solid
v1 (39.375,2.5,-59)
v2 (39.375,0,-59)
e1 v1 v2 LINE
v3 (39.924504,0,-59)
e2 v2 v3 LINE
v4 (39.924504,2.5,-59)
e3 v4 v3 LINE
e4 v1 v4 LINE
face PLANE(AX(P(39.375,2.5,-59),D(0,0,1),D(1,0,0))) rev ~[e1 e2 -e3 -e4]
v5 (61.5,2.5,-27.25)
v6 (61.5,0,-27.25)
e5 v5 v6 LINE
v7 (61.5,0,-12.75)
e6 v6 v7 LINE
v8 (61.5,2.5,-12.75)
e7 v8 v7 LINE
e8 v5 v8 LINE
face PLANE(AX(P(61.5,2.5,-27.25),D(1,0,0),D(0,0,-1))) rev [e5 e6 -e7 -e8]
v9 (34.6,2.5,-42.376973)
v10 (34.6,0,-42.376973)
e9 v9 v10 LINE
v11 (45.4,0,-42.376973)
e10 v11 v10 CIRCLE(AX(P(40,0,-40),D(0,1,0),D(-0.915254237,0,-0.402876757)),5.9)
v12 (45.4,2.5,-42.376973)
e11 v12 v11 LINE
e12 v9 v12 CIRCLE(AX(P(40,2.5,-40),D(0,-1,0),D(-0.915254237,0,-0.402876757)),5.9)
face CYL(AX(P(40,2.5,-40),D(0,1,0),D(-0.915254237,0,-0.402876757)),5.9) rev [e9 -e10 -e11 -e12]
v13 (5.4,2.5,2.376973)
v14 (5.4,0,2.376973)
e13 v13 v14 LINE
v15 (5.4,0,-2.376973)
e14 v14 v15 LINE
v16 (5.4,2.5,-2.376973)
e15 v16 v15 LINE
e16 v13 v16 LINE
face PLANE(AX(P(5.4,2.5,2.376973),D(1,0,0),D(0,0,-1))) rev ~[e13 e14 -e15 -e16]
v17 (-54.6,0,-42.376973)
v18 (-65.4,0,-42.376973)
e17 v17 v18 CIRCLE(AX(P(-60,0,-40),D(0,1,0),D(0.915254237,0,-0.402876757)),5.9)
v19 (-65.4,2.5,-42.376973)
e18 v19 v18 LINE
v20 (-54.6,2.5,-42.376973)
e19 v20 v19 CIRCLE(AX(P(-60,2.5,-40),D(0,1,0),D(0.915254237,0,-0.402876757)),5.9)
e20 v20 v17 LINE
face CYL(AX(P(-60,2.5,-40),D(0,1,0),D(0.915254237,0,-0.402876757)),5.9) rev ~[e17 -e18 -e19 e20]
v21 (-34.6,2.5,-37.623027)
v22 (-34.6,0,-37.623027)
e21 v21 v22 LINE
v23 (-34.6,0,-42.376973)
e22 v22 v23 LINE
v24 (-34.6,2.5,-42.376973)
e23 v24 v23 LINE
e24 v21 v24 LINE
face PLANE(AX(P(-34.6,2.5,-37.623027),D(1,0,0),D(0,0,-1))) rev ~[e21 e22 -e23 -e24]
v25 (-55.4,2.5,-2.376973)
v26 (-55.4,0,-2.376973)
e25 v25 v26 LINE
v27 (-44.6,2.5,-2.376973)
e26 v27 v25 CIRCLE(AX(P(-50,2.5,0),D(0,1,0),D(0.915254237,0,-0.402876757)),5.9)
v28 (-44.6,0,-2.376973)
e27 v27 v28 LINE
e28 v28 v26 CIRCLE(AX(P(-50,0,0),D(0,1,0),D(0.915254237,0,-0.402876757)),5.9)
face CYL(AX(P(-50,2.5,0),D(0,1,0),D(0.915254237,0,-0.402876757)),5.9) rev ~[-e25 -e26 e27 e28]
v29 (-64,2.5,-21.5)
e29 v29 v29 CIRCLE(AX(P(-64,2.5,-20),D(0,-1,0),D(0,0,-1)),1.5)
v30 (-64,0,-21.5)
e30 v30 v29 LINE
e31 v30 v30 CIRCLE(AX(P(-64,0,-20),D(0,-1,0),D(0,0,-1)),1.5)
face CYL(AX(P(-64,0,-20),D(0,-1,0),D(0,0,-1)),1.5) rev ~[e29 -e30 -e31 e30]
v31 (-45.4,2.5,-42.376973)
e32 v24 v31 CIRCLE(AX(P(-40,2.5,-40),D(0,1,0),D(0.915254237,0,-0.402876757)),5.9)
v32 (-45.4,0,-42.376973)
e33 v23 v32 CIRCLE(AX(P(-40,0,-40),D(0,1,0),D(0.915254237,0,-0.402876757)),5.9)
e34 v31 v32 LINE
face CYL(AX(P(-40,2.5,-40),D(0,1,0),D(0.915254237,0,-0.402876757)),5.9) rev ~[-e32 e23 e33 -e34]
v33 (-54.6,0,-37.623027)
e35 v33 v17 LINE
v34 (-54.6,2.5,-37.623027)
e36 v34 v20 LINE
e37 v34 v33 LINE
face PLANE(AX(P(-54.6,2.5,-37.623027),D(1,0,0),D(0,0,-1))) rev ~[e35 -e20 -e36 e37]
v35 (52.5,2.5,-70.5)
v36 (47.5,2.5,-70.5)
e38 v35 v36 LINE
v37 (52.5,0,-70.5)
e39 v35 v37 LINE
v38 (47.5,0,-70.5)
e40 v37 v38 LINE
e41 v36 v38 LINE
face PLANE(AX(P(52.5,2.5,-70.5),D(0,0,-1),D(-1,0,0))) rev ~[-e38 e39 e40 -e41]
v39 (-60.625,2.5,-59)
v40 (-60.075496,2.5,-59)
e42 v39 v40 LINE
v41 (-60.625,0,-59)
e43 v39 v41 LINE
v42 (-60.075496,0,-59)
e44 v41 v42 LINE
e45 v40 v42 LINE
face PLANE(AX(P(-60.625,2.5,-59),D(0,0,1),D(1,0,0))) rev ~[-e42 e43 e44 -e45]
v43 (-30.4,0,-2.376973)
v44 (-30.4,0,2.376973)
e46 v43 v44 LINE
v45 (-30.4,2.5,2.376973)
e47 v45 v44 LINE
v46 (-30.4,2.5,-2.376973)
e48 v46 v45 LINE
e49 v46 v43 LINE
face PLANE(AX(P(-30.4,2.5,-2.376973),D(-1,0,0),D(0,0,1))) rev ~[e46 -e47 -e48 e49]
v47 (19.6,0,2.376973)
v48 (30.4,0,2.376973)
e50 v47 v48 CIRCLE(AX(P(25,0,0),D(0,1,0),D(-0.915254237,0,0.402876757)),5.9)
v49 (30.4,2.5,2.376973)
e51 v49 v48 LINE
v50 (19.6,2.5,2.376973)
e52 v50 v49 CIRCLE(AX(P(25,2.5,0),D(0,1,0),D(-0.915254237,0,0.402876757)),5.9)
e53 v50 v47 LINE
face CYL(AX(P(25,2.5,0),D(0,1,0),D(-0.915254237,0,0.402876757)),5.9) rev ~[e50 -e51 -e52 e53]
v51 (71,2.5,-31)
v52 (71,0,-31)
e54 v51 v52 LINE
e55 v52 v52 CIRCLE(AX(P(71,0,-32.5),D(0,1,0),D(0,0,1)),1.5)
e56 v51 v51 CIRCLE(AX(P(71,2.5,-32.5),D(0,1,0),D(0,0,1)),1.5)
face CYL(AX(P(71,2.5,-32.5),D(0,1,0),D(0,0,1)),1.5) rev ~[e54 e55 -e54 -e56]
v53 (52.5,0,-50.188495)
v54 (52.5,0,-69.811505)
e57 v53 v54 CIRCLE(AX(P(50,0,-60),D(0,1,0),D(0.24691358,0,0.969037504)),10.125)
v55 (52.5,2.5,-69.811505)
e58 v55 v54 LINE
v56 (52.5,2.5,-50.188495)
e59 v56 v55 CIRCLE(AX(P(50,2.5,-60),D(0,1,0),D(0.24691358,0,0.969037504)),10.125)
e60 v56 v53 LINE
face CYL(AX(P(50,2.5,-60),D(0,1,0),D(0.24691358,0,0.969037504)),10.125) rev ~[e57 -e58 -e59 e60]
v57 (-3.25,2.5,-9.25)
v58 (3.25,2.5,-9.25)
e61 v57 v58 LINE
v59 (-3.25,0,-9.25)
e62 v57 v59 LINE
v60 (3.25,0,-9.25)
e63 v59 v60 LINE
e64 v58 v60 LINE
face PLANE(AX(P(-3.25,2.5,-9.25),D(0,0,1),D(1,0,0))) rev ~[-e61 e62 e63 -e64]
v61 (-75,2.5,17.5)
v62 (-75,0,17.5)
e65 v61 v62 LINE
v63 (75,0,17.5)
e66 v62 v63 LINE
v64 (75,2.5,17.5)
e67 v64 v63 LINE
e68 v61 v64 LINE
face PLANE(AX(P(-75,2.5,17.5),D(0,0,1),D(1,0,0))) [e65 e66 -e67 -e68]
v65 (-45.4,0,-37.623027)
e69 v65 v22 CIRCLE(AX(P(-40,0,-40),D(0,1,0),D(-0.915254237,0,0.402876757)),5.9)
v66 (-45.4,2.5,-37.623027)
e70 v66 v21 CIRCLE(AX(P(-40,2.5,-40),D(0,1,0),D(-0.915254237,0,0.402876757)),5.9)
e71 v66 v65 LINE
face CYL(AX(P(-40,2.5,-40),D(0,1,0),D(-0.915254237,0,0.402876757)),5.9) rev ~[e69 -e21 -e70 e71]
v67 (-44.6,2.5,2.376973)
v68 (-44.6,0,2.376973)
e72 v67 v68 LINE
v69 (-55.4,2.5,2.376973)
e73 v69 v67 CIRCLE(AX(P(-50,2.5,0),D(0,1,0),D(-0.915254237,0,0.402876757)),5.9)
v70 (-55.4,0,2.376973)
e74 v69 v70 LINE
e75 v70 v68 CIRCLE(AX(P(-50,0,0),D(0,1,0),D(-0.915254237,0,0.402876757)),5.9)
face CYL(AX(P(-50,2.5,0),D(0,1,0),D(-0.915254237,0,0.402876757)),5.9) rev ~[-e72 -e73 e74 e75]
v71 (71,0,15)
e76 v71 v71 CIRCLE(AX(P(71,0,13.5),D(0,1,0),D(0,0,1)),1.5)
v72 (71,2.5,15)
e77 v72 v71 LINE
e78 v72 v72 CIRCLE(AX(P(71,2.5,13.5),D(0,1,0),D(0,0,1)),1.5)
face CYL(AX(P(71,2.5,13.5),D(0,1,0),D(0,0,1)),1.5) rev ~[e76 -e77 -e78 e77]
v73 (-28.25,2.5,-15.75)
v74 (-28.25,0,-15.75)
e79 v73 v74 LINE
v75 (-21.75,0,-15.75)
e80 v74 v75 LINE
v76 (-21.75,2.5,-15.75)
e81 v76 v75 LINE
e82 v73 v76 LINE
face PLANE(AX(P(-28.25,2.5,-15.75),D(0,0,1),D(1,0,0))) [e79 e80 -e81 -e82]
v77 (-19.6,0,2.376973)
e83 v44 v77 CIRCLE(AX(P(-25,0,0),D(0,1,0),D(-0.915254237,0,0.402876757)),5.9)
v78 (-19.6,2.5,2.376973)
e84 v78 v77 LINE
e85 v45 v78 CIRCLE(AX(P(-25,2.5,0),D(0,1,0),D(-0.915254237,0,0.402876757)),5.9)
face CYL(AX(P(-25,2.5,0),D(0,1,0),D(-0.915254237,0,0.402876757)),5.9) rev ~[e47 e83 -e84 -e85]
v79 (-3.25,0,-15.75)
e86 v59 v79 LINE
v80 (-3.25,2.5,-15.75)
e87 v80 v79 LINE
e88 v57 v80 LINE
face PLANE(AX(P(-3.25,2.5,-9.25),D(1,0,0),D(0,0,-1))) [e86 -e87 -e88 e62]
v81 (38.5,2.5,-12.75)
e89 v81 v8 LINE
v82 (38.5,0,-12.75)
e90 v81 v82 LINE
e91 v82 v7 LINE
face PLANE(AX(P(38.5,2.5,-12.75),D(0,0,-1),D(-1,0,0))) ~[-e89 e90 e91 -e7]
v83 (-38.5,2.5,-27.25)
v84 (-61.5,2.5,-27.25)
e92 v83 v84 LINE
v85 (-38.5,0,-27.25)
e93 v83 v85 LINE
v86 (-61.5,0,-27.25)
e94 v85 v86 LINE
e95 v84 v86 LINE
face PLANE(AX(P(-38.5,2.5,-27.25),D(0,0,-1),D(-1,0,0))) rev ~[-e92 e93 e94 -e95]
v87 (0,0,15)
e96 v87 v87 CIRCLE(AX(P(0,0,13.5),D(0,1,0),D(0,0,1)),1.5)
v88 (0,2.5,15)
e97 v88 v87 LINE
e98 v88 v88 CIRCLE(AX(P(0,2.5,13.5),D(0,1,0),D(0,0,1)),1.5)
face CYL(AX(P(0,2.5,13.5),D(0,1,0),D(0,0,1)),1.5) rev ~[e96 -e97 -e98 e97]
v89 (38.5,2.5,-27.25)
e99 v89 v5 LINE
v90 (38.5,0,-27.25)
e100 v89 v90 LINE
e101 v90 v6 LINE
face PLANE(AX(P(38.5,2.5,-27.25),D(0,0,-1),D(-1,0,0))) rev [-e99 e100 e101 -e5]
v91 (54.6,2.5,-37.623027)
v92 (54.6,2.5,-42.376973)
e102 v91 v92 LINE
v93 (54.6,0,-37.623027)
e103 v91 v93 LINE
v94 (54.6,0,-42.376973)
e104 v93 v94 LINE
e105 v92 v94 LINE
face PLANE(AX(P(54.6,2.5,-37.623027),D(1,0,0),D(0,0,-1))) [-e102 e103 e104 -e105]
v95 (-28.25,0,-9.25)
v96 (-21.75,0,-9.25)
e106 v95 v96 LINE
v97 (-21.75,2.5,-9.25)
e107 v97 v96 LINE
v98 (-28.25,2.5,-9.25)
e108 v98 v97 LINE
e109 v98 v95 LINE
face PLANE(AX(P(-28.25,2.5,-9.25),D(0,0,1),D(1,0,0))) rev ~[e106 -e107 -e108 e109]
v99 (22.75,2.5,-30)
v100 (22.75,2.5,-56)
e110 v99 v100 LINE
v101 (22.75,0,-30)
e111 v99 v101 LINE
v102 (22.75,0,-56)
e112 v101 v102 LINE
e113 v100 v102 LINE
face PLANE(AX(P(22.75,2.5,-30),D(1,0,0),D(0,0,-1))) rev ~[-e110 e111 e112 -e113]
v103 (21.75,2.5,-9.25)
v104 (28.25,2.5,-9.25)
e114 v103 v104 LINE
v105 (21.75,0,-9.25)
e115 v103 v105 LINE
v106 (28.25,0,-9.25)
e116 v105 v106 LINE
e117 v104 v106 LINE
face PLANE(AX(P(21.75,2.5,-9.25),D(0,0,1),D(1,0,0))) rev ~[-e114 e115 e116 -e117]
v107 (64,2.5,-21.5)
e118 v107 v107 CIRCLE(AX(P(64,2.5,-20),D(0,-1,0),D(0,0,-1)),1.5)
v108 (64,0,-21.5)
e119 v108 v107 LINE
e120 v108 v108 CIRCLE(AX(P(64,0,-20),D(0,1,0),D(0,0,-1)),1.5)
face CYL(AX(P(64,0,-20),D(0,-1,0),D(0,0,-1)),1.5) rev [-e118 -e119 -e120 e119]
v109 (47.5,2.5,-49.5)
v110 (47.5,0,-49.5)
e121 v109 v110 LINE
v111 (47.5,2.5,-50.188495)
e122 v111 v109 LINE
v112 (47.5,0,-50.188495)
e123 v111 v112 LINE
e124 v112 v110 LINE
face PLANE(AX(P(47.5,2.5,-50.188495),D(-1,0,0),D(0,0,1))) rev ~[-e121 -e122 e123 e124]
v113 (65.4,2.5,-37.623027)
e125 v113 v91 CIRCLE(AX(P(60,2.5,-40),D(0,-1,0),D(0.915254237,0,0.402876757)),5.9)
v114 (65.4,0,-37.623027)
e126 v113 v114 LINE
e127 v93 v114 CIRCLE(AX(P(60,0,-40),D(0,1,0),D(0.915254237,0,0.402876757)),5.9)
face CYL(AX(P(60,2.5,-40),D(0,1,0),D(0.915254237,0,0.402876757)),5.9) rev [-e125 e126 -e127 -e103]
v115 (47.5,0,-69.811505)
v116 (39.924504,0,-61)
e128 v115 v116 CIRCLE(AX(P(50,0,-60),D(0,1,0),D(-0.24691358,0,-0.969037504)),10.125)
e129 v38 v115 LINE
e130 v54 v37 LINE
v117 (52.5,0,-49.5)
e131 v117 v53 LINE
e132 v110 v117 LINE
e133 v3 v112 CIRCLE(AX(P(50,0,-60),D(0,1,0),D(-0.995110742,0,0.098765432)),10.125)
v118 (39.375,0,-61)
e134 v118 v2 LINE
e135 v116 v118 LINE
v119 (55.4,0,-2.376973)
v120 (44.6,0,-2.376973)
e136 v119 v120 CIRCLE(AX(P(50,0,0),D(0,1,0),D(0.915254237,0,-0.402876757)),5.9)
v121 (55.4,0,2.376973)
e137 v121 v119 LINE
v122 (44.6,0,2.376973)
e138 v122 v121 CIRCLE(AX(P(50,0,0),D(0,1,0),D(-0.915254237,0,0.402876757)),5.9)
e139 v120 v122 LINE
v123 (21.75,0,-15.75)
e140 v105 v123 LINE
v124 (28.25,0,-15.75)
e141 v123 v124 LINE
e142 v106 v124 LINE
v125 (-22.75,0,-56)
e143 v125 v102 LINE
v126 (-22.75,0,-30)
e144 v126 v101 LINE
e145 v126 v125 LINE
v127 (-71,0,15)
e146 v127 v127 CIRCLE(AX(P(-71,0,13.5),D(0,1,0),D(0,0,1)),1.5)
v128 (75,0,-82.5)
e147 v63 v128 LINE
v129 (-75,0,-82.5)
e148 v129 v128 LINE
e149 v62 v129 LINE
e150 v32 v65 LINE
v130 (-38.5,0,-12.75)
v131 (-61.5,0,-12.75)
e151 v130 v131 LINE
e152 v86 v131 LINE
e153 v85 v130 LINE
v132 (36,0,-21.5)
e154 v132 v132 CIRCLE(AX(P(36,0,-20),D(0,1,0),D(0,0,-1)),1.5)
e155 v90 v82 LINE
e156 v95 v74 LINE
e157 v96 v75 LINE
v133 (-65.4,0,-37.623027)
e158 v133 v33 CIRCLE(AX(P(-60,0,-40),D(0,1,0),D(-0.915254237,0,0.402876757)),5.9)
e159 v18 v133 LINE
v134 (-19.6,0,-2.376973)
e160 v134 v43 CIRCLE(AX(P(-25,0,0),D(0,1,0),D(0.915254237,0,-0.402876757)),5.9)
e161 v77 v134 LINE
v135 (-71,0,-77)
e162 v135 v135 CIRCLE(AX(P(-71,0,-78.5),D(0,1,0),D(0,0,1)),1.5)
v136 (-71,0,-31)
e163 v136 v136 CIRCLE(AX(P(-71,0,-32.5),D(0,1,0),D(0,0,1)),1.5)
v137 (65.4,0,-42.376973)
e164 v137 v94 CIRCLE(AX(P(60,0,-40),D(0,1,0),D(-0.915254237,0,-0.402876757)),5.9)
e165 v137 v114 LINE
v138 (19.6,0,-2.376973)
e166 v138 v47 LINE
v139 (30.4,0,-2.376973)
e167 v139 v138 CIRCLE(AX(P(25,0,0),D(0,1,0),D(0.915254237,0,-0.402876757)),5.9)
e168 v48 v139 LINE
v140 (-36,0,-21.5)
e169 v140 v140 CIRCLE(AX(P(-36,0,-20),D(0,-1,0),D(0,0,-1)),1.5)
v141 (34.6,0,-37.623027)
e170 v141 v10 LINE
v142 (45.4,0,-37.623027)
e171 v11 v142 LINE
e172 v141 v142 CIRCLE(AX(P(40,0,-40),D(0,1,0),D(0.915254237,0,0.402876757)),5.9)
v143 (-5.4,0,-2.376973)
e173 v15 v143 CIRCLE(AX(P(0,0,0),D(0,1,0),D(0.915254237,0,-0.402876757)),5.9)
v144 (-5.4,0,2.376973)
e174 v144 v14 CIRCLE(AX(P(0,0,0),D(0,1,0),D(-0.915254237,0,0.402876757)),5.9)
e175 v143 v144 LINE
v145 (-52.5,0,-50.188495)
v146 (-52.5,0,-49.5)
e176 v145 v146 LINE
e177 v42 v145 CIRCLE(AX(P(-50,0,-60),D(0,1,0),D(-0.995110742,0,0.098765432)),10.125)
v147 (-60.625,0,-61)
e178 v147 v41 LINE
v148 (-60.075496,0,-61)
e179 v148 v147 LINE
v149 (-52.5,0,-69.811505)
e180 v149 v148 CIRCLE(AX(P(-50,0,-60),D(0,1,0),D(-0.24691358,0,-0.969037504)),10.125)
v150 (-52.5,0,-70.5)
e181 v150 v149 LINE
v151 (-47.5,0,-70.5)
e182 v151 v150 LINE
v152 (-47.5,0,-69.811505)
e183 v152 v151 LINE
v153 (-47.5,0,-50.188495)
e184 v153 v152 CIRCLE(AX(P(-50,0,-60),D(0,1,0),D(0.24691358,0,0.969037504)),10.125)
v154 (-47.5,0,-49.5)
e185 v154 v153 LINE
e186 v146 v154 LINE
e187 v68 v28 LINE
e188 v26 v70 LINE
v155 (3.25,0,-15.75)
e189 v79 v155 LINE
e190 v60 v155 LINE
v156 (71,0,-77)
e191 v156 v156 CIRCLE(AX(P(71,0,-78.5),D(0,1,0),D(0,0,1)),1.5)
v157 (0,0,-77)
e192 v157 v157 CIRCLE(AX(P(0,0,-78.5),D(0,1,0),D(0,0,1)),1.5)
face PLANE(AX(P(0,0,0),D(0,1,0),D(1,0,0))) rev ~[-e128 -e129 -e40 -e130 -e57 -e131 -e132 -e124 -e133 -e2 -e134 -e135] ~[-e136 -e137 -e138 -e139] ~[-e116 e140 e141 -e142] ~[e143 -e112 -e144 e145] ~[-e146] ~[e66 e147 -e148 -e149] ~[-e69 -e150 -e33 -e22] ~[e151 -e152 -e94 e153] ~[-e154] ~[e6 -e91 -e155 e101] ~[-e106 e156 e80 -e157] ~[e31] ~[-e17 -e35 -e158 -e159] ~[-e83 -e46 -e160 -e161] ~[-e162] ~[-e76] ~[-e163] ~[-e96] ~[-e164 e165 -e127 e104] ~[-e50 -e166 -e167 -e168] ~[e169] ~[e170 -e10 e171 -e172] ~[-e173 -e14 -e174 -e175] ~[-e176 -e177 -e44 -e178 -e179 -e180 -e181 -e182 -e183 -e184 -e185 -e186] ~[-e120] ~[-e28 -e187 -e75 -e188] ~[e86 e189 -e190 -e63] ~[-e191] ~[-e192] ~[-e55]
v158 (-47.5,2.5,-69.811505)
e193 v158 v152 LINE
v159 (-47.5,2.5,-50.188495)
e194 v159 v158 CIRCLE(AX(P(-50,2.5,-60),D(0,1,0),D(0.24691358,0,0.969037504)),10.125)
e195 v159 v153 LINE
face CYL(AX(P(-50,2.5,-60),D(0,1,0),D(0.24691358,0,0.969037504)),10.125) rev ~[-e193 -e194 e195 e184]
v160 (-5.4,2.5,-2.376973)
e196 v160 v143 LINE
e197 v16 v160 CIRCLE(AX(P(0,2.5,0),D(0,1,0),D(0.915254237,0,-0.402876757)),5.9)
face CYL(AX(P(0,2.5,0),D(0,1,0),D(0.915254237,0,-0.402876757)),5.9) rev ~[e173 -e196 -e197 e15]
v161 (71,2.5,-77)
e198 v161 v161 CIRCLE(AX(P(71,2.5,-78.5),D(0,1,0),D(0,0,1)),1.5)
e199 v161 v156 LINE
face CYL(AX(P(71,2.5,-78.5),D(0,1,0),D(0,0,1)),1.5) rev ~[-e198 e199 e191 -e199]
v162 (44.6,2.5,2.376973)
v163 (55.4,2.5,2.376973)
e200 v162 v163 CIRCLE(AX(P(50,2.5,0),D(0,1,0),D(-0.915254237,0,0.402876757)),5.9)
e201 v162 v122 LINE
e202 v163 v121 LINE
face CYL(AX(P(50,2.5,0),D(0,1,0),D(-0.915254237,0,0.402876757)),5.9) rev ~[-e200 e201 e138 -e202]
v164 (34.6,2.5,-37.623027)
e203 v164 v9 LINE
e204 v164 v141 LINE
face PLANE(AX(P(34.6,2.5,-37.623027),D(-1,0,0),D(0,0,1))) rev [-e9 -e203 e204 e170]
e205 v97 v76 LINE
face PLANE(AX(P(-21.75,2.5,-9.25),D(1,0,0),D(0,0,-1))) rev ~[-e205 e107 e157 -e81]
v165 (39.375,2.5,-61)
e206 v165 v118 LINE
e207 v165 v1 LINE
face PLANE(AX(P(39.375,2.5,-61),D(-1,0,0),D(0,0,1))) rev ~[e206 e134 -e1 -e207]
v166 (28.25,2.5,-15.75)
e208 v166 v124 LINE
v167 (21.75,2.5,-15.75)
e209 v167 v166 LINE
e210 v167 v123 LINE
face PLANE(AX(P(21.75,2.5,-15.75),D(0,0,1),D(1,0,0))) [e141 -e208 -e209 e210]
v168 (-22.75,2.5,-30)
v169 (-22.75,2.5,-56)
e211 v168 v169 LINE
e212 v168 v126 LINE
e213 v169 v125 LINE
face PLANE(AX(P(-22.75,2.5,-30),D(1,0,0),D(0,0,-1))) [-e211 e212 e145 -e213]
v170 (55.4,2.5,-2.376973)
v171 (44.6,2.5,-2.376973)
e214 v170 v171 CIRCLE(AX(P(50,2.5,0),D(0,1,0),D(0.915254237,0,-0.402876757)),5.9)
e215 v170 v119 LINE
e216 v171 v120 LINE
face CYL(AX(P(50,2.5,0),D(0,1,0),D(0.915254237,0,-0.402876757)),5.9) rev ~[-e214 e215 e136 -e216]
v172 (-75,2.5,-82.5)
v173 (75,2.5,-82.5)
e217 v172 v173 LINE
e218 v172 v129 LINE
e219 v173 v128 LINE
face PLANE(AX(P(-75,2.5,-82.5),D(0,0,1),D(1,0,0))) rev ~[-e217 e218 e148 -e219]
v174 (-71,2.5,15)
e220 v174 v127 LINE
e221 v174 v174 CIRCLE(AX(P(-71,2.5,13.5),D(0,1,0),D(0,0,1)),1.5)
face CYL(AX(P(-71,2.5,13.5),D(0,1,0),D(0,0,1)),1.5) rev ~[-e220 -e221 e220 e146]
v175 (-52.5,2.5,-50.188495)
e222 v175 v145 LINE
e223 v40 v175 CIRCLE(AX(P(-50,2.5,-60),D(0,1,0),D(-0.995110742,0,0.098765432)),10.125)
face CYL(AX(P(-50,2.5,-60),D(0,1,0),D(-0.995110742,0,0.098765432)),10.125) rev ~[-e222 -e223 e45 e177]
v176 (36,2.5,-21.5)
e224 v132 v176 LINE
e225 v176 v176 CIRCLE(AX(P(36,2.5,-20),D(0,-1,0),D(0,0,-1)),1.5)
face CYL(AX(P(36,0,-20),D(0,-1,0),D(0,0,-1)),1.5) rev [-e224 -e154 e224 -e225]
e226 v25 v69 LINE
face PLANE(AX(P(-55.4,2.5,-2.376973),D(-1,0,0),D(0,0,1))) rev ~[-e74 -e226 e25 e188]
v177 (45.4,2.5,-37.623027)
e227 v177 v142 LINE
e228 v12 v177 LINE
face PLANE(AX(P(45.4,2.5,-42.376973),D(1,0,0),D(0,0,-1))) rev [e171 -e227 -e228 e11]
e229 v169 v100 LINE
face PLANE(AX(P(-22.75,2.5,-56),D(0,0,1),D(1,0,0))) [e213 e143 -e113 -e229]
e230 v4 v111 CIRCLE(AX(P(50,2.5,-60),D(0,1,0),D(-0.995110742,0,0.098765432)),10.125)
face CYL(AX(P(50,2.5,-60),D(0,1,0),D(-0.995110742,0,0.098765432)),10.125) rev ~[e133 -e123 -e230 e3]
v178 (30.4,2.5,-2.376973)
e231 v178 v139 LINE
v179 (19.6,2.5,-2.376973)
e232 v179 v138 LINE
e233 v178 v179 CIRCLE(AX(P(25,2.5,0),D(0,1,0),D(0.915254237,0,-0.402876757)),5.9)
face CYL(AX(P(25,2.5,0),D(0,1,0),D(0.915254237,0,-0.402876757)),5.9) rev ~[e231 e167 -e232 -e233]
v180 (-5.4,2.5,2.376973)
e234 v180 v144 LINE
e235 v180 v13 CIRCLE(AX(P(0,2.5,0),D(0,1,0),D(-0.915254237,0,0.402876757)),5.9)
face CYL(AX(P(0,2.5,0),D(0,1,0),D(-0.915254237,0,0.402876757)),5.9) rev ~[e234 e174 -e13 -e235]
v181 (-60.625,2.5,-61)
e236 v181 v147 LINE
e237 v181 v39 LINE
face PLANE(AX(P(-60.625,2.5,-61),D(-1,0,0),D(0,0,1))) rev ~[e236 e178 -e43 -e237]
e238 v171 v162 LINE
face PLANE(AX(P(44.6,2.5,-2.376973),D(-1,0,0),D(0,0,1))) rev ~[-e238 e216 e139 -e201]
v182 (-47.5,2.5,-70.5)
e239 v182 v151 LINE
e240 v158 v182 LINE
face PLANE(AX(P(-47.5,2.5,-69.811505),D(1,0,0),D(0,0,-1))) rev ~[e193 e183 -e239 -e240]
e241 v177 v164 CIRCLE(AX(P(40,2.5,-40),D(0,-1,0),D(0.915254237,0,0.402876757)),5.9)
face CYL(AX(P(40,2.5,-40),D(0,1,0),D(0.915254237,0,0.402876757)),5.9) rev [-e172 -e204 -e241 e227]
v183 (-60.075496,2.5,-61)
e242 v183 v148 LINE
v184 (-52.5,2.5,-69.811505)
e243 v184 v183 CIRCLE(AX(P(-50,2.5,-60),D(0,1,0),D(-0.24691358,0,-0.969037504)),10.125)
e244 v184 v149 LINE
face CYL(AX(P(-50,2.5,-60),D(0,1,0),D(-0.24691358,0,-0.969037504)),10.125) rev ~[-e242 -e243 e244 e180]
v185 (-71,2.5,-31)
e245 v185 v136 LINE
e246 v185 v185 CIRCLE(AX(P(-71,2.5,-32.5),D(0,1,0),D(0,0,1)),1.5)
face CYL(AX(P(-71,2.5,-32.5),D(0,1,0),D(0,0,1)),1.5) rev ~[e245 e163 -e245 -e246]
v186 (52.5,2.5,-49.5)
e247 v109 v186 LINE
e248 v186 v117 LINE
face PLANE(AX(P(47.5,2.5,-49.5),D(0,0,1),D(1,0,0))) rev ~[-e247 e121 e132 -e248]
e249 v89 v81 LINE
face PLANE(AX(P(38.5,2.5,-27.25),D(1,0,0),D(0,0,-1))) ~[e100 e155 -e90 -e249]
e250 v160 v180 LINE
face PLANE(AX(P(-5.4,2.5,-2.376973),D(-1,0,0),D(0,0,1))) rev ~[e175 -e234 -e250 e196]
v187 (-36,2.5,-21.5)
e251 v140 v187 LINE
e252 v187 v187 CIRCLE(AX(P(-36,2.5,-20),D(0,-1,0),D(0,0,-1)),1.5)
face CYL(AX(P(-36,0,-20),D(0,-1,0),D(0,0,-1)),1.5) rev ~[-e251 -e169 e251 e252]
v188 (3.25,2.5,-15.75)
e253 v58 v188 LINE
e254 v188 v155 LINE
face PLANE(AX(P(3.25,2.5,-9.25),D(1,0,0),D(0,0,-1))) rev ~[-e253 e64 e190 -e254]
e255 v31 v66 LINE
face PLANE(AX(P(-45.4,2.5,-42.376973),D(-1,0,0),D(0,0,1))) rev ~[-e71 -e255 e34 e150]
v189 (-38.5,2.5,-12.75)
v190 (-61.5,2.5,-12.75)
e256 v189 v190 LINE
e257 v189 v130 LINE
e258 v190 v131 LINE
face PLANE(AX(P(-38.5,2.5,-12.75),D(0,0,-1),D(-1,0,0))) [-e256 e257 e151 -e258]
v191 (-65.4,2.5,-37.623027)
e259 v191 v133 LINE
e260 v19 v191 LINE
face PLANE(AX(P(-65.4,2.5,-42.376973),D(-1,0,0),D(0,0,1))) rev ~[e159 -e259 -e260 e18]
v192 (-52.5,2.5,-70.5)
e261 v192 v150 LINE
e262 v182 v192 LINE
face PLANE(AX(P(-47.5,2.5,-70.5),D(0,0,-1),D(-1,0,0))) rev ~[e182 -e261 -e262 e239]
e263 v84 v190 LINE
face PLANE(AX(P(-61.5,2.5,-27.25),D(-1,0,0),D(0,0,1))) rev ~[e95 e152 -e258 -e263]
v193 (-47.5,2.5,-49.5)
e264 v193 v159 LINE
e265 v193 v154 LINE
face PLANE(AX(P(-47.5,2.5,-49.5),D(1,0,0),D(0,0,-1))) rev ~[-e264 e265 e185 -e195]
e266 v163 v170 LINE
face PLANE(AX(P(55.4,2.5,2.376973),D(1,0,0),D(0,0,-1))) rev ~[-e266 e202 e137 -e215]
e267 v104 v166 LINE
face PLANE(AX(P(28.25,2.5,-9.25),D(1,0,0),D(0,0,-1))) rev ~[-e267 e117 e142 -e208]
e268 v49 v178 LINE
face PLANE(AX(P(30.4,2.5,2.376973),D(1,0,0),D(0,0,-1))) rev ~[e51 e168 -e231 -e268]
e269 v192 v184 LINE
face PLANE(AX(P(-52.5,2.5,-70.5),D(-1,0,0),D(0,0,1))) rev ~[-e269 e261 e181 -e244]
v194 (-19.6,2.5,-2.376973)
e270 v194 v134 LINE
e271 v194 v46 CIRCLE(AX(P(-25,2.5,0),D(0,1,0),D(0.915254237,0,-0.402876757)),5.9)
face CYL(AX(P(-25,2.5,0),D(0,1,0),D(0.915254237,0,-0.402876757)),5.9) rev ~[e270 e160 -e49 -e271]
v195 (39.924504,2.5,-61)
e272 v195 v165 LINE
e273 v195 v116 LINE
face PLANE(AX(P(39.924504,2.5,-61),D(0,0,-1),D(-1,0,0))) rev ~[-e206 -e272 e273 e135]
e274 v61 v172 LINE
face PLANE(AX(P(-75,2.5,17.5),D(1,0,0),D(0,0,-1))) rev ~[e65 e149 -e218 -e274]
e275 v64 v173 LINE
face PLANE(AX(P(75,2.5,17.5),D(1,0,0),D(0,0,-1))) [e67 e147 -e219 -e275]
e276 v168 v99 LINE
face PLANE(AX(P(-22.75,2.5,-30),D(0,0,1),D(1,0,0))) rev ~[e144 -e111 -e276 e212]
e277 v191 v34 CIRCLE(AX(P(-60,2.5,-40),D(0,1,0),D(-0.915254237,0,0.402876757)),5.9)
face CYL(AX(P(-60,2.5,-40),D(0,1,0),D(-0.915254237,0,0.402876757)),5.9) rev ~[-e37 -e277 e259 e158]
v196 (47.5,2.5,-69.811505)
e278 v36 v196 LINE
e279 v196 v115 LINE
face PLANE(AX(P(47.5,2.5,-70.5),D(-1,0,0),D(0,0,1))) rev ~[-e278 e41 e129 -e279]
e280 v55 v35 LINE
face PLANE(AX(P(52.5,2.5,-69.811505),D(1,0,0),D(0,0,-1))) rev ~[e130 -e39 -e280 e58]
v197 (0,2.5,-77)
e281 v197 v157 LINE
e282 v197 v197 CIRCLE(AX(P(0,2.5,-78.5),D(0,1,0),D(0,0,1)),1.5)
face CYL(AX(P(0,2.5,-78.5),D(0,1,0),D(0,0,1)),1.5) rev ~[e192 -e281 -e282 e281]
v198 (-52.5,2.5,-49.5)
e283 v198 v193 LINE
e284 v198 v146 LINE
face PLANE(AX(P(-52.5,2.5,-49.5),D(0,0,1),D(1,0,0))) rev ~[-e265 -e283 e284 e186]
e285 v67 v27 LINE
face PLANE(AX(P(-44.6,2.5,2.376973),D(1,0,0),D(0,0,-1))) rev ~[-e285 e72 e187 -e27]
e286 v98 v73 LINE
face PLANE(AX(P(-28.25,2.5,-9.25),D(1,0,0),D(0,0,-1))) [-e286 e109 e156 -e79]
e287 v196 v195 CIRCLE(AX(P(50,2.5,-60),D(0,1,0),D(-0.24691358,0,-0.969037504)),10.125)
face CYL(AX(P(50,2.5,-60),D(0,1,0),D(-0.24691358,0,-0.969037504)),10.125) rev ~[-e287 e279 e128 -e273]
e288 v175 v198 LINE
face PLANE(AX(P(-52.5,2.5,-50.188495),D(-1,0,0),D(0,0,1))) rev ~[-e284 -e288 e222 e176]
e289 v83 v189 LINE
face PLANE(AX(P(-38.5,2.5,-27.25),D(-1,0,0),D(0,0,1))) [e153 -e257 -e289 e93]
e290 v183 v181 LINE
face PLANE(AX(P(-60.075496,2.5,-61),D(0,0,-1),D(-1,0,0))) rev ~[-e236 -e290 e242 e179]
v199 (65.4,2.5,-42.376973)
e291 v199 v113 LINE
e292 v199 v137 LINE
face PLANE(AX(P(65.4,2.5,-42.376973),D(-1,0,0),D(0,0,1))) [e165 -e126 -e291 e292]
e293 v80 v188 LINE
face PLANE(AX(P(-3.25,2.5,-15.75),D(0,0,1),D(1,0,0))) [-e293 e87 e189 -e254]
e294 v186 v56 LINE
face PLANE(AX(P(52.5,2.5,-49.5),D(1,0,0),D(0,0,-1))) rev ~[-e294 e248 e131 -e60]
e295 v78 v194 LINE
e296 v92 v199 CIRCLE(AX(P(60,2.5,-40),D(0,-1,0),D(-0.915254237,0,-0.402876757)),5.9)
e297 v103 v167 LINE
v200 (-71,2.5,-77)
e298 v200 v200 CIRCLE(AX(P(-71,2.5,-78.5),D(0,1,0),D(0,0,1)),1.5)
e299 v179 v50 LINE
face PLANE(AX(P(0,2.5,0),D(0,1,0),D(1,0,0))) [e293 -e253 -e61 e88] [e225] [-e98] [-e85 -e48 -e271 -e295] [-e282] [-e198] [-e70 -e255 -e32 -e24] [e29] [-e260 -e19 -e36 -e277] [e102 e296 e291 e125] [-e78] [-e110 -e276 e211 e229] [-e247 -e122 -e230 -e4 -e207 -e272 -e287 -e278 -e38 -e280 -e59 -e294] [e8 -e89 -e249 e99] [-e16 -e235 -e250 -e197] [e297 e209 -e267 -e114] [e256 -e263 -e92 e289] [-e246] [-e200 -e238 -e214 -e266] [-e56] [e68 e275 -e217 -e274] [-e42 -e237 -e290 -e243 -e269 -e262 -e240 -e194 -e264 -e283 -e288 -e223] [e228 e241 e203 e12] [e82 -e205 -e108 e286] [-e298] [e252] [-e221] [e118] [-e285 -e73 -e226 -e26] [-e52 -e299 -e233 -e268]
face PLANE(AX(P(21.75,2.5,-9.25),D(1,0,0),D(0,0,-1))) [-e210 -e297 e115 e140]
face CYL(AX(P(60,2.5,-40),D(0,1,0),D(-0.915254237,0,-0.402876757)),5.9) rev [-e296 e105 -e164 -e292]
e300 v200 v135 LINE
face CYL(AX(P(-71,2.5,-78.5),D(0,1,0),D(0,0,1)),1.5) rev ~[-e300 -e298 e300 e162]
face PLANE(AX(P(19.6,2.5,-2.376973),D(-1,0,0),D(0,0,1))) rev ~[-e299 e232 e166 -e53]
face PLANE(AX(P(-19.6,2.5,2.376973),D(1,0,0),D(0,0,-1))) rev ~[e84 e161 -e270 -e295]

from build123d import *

# Parameters (mm, degrees)
SKETCH1_W            = 186.036212306
SKETCH1_H            = 300
BOSS_EXTRUDE1_DEPTH  = 2.5
CUT_EXTRUDE1_DEPTH   = 10
LPATTERN1_COUNT      = 5
LPATTERN1_PITCH      = 25
SKETCH3_W            = 23
SKETCH3_H            = 14.5
CUT_EXTRUDE2_DEPTH   = 10
SKETCH4_R            = 1.5
SKETCH4_W            = 23
SKETCH4_H            = 14.5
CUT_EXTRUDE3_DEPTH   = 10
SKETCH5_W            = 45.5
SKETCH5_H            = 26
CUT_EXTRUDE4_DEPTH   = 10
SKETCH6_W            = 6.5
SKETCH6_H            = 6.5
CUT_EXTRUDE5_DEPTH   = 5
LPATTERN2_COUNT      = 3
LPATTERN2_PITCH      = 25
CUT_EXTRUDE6_DEPTH   = 15
LPATTERN3_COUNT      = 2
LPATTERN3_PITCH      = 20
MIRROR2_COPY_1_DEPTH = 15
MIRROR2_COPY_2_DEPTH = 15
CUT_EXTRUDE8_DEPTH   = 15
SKETCH8_W            = 394.980605426
SKETCH8_H            = 443.90792121
SKETCH8_W_2          = 150
SKETCH8_H_2          = 100
CUT_EXTRUDE7_DEPTH   = 15
LPATTERN4_COUNT      = 2
LPATTERN4_PITCH      = 100
SKETCH10_R           = 1.5
CUT_EXTRUDE9_DEPTH   = 15
LPATTERN6_COUNT      = 3
LPATTERN6_PITCH      = 46


with BuildPart() as part:
    # Sketch1 → Boss-Extrude1 (new body)
    with BuildSketch(Plane(origin=(0, 0, 0), x_dir=(1, 0, 0), z_dir=(0, 1, 0))):
        Rectangle(SKETCH1_W, SKETCH1_H)
    extrude(amount=BOSS_EXTRUDE1_DEPTH)

    # Sketch2 → Cut-Extrude1 (cut)
    with BuildSketch(Plane(origin=(0, 2.5, 0), x_dir=(1, 0, 0), z_dir=(0, 1, 0))):
        with BuildLine():
            ThreePointArc((-55.4, -2.376972865), (-50, -5.9), (-44.6, -2.376972865))
            Line((-44.6, -2.376972865), (-44.6, 2.376972865))
            ThreePointArc((-44.6, 2.376972865), (-50, 5.9), (-55.4, 2.376972865))
            Line((-55.4, 2.376972865), (-55.4, -2.376972865))
        make_face()
    cut_extrude1 = extrude(amount=-CUT_EXTRUDE1_DEPTH, mode=Mode.SUBTRACT)

    # LPattern1: Cut-Extrude1 ×5
    with Locations(*[(i * LPATTERN1_PITCH, 0, 0) for i in range(1, LPATTERN1_COUNT)]):
        add(cut_extrude1, mode=Mode.SUBTRACT)

    # Sketch3 → Cut-Extrude2 (cut)
    with BuildSketch(Plane(origin=(0, 2.5, 0), x_dir=(-1, 0, 0), z_dir=(0, 1, 0))):
        with Locations((50, -20)):
            Rectangle(SKETCH3_W, SKETCH3_H)
    cut_extrude2 = extrude(amount=-CUT_EXTRUDE2_DEPTH, mode=Mode.SUBTRACT)

    # Sketch4 → Cut-Extrude3 (cut)
    with BuildSketch(Plane.XZ):
        with Locations((-64, -20)):
            Circle(SKETCH4_R)
        with Locations((-36, -20)):
            Circle(SKETCH4_R)
        with Locations((-50, -20)):
            Rectangle(SKETCH4_W, SKETCH4_H)
    cut_extrude3 = extrude(amount=-CUT_EXTRUDE3_DEPTH, mode=Mode.SUBTRACT)

    # Sketch5 → Cut-Extrude4 (cut)
    with BuildSketch(Plane(origin=(0, 2.5, 0), x_dir=(1, 0, 0), z_dir=(0, 1, 0))):
        with Locations((0, 43)):
            Rectangle(SKETCH5_W, SKETCH5_H)
    extrude(amount=-CUT_EXTRUDE4_DEPTH, mode=Mode.SUBTRACT)

    # Mirror1: Cut-Extrude2, Cut-Extrude3 across plane
    add(cut_extrude2.mirror(Plane(origin=(0, 0, 0), x_dir=(0, 0, 1), z_dir=(1, 0, 0))), mode=Mode.SUBTRACT)
    add(cut_extrude3.mirror(Plane(origin=(0, 0, 0), x_dir=(0, 0, 1), z_dir=(1, 0, 0))), mode=Mode.SUBTRACT)

    # Sketch6 → Cut-Extrude5 (cut)
    with BuildSketch(Plane(origin=(0, 2.5, 0), x_dir=(1, 0, 0), z_dir=(0, 1, 0))):
        with Locations((-25, 12.5)):
            Rectangle(SKETCH6_W, SKETCH6_H)
    cut_extrude5 = extrude(amount=-CUT_EXTRUDE5_DEPTH, mode=Mode.SUBTRACT)

    # LPattern2: Cut-Extrude5 ×3
    with Locations(*[(i * LPATTERN2_PITCH, 0, 0) for i in range(1, LPATTERN2_COUNT)]):
        add(cut_extrude5, mode=Mode.SUBTRACT)

    # Sketch7 → Cut-Extrude6 (cut)
    with BuildSketch(Plane(origin=(0, 2.5, 0), x_dir=(1, 0, 0), z_dir=(0, 1, 0))):
        with BuildLine():
            ThreePointArc((-45.4, 37.623027135), (-40, 34.1), (-34.6, 37.623027135))
            Line((-34.6, 37.623027135), (-34.6, 42.376972865))
            ThreePointArc((-34.6, 42.376972865), (-40, 45.9), (-45.4, 42.376972865))
            Line((-45.4, 42.376972865), (-45.4, 37.623027135))
        make_face()
    cut_extrude6 = extrude(amount=-CUT_EXTRUDE6_DEPTH, mode=Mode.SUBTRACT)

    # LPattern3: Cut-Extrude6 ×2
    with Locations(*[(-i * LPATTERN3_PITCH, 0, 0) for i in range(1, LPATTERN3_COUNT)]):
        add(cut_extrude6, mode=Mode.SUBTRACT)

    # Mirror2 copy 1 sketch → Mirror2 copy 1 (cut)
    with BuildSketch(Plane(origin=(20, 2.5, 0), x_dir=(-1, 0, 0), z_dir=(0, 1, 0))):
        with BuildLine():
            ThreePointArc((-45.4, -37.623027135), (-40, -34.1), (-34.6, -37.623027135))
            Line((-34.6, -37.623027135), (-34.6, -42.376972865))
            ThreePointArc((-34.6, -42.376972865), (-40, -45.9), (-45.4, -42.376972865))
            Line((-45.4, -42.376972865), (-45.4, -37.623027135))
        make_face()
    extrude(amount=-MIRROR2_COPY_1_DEPTH, mode=Mode.SUBTRACT)

    # Mirror2 copy 2 sketch → Mirror2 copy 2 (cut)
    with BuildSketch(Plane(origin=(0, 2.5, 0), x_dir=(-1, 0, 0), z_dir=(0, 1, 0))):
        with BuildLine():
            ThreePointArc((-45.4, -37.623027135), (-40, -34.1), (-34.6, -37.623027135))
            Line((-34.6, -37.623027135), (-34.6, -42.376972865))
            ThreePointArc((-34.6, -42.376972865), (-40, -45.9), (-45.4, -42.376972865))
            Line((-45.4, -42.376972865), (-45.4, -37.623027135))
        make_face()
    extrude(amount=-MIRROR2_COPY_2_DEPTH, mode=Mode.SUBTRACT)

    # Sketch9 → Cut-Extrude8 (cut)
    with BuildSketch(Plane(origin=(0, 2.5, 0), x_dir=(-1, 0, 0), z_dir=(0, 1, 0))):
        with BuildLine():
            Line((60.625, -61), (60.625, -59))
            Line((60.625, -59), (60.075496266, -59))
            ThreePointArc((60.075496266, -59), (57.677657877, -53.399303481), (52.5, -50.188495273))
            Line((52.5, -50.188495273), (52.5, -49.5))
            Line((52.5, -49.5), (47.5, -49.5))
            Line((47.5, -49.5), (47.5, -50.188495273))
            ThreePointArc((47.5, -50.188495273), (39.875, -60), (47.5, -69.811504727))
            Line((47.5, -69.811504727), (47.5, -70.5))
            Line((47.5, -70.5), (52.5, -70.5))
            Line((52.5, -70.5), (52.5, -69.811504727))
            ThreePointArc((52.5, -69.811504727), (57.677657877, -66.600696519), (60.075496266, -61))
            Line((60.075496266, -61), (60.625, -61))
        make_face()
    cut_extrude8 = extrude(amount=-CUT_EXTRUDE8_DEPTH, mode=Mode.SUBTRACT)

    # Sketch8 → Cut-Extrude7 (cut)
    with BuildSketch(Plane(origin=(0, 2.5, 0), x_dir=(1, 0, 0), z_dir=(0, 1, 0))):
        with Locations((0, 32.5)):
            Rectangle(SKETCH8_W, SKETCH8_H)
        with Locations((0, 32.5)):
            Rectangle(SKETCH8_W_2, SKETCH8_H_2, mode=Mode.SUBTRACT)
    extrude(amount=-CUT_EXTRUDE7_DEPTH, mode=Mode.SUBTRACT)

    # LPattern4: Cut-Extrude8 ×2
    with Locations(*[(i * LPATTERN4_PITCH, 0, 0) for i in range(1, LPATTERN4_COUNT)]):
        add(cut_extrude8, mode=Mode.SUBTRACT)

    # Sketch10 → Cut-Extrude9 (cut)
    with BuildSketch(Plane(origin=(0, 2.5, 0), x_dir=(1, 0, 0), z_dir=(0, 1, 0))):
        with Locations((-71, 78.5)):
            Circle(SKETCH10_R)
        with Locations((71, 78.5)):
            Circle(SKETCH10_R)
        with Locations((0, 78.5)):
            Circle(SKETCH10_R)
    cut_extrude9 = extrude(amount=-CUT_EXTRUDE9_DEPTH, mode=Mode.SUBTRACT)

    # LPattern6: Cut-Extrude9 ×3
    with Locations(*[(0, 0, i * LPATTERN6_PITCH) for i in range(1, LPATTERN6_COUNT)]):
        add(cut_extrude9, mode=Mode.SUBTRACT)


solid = part.part
